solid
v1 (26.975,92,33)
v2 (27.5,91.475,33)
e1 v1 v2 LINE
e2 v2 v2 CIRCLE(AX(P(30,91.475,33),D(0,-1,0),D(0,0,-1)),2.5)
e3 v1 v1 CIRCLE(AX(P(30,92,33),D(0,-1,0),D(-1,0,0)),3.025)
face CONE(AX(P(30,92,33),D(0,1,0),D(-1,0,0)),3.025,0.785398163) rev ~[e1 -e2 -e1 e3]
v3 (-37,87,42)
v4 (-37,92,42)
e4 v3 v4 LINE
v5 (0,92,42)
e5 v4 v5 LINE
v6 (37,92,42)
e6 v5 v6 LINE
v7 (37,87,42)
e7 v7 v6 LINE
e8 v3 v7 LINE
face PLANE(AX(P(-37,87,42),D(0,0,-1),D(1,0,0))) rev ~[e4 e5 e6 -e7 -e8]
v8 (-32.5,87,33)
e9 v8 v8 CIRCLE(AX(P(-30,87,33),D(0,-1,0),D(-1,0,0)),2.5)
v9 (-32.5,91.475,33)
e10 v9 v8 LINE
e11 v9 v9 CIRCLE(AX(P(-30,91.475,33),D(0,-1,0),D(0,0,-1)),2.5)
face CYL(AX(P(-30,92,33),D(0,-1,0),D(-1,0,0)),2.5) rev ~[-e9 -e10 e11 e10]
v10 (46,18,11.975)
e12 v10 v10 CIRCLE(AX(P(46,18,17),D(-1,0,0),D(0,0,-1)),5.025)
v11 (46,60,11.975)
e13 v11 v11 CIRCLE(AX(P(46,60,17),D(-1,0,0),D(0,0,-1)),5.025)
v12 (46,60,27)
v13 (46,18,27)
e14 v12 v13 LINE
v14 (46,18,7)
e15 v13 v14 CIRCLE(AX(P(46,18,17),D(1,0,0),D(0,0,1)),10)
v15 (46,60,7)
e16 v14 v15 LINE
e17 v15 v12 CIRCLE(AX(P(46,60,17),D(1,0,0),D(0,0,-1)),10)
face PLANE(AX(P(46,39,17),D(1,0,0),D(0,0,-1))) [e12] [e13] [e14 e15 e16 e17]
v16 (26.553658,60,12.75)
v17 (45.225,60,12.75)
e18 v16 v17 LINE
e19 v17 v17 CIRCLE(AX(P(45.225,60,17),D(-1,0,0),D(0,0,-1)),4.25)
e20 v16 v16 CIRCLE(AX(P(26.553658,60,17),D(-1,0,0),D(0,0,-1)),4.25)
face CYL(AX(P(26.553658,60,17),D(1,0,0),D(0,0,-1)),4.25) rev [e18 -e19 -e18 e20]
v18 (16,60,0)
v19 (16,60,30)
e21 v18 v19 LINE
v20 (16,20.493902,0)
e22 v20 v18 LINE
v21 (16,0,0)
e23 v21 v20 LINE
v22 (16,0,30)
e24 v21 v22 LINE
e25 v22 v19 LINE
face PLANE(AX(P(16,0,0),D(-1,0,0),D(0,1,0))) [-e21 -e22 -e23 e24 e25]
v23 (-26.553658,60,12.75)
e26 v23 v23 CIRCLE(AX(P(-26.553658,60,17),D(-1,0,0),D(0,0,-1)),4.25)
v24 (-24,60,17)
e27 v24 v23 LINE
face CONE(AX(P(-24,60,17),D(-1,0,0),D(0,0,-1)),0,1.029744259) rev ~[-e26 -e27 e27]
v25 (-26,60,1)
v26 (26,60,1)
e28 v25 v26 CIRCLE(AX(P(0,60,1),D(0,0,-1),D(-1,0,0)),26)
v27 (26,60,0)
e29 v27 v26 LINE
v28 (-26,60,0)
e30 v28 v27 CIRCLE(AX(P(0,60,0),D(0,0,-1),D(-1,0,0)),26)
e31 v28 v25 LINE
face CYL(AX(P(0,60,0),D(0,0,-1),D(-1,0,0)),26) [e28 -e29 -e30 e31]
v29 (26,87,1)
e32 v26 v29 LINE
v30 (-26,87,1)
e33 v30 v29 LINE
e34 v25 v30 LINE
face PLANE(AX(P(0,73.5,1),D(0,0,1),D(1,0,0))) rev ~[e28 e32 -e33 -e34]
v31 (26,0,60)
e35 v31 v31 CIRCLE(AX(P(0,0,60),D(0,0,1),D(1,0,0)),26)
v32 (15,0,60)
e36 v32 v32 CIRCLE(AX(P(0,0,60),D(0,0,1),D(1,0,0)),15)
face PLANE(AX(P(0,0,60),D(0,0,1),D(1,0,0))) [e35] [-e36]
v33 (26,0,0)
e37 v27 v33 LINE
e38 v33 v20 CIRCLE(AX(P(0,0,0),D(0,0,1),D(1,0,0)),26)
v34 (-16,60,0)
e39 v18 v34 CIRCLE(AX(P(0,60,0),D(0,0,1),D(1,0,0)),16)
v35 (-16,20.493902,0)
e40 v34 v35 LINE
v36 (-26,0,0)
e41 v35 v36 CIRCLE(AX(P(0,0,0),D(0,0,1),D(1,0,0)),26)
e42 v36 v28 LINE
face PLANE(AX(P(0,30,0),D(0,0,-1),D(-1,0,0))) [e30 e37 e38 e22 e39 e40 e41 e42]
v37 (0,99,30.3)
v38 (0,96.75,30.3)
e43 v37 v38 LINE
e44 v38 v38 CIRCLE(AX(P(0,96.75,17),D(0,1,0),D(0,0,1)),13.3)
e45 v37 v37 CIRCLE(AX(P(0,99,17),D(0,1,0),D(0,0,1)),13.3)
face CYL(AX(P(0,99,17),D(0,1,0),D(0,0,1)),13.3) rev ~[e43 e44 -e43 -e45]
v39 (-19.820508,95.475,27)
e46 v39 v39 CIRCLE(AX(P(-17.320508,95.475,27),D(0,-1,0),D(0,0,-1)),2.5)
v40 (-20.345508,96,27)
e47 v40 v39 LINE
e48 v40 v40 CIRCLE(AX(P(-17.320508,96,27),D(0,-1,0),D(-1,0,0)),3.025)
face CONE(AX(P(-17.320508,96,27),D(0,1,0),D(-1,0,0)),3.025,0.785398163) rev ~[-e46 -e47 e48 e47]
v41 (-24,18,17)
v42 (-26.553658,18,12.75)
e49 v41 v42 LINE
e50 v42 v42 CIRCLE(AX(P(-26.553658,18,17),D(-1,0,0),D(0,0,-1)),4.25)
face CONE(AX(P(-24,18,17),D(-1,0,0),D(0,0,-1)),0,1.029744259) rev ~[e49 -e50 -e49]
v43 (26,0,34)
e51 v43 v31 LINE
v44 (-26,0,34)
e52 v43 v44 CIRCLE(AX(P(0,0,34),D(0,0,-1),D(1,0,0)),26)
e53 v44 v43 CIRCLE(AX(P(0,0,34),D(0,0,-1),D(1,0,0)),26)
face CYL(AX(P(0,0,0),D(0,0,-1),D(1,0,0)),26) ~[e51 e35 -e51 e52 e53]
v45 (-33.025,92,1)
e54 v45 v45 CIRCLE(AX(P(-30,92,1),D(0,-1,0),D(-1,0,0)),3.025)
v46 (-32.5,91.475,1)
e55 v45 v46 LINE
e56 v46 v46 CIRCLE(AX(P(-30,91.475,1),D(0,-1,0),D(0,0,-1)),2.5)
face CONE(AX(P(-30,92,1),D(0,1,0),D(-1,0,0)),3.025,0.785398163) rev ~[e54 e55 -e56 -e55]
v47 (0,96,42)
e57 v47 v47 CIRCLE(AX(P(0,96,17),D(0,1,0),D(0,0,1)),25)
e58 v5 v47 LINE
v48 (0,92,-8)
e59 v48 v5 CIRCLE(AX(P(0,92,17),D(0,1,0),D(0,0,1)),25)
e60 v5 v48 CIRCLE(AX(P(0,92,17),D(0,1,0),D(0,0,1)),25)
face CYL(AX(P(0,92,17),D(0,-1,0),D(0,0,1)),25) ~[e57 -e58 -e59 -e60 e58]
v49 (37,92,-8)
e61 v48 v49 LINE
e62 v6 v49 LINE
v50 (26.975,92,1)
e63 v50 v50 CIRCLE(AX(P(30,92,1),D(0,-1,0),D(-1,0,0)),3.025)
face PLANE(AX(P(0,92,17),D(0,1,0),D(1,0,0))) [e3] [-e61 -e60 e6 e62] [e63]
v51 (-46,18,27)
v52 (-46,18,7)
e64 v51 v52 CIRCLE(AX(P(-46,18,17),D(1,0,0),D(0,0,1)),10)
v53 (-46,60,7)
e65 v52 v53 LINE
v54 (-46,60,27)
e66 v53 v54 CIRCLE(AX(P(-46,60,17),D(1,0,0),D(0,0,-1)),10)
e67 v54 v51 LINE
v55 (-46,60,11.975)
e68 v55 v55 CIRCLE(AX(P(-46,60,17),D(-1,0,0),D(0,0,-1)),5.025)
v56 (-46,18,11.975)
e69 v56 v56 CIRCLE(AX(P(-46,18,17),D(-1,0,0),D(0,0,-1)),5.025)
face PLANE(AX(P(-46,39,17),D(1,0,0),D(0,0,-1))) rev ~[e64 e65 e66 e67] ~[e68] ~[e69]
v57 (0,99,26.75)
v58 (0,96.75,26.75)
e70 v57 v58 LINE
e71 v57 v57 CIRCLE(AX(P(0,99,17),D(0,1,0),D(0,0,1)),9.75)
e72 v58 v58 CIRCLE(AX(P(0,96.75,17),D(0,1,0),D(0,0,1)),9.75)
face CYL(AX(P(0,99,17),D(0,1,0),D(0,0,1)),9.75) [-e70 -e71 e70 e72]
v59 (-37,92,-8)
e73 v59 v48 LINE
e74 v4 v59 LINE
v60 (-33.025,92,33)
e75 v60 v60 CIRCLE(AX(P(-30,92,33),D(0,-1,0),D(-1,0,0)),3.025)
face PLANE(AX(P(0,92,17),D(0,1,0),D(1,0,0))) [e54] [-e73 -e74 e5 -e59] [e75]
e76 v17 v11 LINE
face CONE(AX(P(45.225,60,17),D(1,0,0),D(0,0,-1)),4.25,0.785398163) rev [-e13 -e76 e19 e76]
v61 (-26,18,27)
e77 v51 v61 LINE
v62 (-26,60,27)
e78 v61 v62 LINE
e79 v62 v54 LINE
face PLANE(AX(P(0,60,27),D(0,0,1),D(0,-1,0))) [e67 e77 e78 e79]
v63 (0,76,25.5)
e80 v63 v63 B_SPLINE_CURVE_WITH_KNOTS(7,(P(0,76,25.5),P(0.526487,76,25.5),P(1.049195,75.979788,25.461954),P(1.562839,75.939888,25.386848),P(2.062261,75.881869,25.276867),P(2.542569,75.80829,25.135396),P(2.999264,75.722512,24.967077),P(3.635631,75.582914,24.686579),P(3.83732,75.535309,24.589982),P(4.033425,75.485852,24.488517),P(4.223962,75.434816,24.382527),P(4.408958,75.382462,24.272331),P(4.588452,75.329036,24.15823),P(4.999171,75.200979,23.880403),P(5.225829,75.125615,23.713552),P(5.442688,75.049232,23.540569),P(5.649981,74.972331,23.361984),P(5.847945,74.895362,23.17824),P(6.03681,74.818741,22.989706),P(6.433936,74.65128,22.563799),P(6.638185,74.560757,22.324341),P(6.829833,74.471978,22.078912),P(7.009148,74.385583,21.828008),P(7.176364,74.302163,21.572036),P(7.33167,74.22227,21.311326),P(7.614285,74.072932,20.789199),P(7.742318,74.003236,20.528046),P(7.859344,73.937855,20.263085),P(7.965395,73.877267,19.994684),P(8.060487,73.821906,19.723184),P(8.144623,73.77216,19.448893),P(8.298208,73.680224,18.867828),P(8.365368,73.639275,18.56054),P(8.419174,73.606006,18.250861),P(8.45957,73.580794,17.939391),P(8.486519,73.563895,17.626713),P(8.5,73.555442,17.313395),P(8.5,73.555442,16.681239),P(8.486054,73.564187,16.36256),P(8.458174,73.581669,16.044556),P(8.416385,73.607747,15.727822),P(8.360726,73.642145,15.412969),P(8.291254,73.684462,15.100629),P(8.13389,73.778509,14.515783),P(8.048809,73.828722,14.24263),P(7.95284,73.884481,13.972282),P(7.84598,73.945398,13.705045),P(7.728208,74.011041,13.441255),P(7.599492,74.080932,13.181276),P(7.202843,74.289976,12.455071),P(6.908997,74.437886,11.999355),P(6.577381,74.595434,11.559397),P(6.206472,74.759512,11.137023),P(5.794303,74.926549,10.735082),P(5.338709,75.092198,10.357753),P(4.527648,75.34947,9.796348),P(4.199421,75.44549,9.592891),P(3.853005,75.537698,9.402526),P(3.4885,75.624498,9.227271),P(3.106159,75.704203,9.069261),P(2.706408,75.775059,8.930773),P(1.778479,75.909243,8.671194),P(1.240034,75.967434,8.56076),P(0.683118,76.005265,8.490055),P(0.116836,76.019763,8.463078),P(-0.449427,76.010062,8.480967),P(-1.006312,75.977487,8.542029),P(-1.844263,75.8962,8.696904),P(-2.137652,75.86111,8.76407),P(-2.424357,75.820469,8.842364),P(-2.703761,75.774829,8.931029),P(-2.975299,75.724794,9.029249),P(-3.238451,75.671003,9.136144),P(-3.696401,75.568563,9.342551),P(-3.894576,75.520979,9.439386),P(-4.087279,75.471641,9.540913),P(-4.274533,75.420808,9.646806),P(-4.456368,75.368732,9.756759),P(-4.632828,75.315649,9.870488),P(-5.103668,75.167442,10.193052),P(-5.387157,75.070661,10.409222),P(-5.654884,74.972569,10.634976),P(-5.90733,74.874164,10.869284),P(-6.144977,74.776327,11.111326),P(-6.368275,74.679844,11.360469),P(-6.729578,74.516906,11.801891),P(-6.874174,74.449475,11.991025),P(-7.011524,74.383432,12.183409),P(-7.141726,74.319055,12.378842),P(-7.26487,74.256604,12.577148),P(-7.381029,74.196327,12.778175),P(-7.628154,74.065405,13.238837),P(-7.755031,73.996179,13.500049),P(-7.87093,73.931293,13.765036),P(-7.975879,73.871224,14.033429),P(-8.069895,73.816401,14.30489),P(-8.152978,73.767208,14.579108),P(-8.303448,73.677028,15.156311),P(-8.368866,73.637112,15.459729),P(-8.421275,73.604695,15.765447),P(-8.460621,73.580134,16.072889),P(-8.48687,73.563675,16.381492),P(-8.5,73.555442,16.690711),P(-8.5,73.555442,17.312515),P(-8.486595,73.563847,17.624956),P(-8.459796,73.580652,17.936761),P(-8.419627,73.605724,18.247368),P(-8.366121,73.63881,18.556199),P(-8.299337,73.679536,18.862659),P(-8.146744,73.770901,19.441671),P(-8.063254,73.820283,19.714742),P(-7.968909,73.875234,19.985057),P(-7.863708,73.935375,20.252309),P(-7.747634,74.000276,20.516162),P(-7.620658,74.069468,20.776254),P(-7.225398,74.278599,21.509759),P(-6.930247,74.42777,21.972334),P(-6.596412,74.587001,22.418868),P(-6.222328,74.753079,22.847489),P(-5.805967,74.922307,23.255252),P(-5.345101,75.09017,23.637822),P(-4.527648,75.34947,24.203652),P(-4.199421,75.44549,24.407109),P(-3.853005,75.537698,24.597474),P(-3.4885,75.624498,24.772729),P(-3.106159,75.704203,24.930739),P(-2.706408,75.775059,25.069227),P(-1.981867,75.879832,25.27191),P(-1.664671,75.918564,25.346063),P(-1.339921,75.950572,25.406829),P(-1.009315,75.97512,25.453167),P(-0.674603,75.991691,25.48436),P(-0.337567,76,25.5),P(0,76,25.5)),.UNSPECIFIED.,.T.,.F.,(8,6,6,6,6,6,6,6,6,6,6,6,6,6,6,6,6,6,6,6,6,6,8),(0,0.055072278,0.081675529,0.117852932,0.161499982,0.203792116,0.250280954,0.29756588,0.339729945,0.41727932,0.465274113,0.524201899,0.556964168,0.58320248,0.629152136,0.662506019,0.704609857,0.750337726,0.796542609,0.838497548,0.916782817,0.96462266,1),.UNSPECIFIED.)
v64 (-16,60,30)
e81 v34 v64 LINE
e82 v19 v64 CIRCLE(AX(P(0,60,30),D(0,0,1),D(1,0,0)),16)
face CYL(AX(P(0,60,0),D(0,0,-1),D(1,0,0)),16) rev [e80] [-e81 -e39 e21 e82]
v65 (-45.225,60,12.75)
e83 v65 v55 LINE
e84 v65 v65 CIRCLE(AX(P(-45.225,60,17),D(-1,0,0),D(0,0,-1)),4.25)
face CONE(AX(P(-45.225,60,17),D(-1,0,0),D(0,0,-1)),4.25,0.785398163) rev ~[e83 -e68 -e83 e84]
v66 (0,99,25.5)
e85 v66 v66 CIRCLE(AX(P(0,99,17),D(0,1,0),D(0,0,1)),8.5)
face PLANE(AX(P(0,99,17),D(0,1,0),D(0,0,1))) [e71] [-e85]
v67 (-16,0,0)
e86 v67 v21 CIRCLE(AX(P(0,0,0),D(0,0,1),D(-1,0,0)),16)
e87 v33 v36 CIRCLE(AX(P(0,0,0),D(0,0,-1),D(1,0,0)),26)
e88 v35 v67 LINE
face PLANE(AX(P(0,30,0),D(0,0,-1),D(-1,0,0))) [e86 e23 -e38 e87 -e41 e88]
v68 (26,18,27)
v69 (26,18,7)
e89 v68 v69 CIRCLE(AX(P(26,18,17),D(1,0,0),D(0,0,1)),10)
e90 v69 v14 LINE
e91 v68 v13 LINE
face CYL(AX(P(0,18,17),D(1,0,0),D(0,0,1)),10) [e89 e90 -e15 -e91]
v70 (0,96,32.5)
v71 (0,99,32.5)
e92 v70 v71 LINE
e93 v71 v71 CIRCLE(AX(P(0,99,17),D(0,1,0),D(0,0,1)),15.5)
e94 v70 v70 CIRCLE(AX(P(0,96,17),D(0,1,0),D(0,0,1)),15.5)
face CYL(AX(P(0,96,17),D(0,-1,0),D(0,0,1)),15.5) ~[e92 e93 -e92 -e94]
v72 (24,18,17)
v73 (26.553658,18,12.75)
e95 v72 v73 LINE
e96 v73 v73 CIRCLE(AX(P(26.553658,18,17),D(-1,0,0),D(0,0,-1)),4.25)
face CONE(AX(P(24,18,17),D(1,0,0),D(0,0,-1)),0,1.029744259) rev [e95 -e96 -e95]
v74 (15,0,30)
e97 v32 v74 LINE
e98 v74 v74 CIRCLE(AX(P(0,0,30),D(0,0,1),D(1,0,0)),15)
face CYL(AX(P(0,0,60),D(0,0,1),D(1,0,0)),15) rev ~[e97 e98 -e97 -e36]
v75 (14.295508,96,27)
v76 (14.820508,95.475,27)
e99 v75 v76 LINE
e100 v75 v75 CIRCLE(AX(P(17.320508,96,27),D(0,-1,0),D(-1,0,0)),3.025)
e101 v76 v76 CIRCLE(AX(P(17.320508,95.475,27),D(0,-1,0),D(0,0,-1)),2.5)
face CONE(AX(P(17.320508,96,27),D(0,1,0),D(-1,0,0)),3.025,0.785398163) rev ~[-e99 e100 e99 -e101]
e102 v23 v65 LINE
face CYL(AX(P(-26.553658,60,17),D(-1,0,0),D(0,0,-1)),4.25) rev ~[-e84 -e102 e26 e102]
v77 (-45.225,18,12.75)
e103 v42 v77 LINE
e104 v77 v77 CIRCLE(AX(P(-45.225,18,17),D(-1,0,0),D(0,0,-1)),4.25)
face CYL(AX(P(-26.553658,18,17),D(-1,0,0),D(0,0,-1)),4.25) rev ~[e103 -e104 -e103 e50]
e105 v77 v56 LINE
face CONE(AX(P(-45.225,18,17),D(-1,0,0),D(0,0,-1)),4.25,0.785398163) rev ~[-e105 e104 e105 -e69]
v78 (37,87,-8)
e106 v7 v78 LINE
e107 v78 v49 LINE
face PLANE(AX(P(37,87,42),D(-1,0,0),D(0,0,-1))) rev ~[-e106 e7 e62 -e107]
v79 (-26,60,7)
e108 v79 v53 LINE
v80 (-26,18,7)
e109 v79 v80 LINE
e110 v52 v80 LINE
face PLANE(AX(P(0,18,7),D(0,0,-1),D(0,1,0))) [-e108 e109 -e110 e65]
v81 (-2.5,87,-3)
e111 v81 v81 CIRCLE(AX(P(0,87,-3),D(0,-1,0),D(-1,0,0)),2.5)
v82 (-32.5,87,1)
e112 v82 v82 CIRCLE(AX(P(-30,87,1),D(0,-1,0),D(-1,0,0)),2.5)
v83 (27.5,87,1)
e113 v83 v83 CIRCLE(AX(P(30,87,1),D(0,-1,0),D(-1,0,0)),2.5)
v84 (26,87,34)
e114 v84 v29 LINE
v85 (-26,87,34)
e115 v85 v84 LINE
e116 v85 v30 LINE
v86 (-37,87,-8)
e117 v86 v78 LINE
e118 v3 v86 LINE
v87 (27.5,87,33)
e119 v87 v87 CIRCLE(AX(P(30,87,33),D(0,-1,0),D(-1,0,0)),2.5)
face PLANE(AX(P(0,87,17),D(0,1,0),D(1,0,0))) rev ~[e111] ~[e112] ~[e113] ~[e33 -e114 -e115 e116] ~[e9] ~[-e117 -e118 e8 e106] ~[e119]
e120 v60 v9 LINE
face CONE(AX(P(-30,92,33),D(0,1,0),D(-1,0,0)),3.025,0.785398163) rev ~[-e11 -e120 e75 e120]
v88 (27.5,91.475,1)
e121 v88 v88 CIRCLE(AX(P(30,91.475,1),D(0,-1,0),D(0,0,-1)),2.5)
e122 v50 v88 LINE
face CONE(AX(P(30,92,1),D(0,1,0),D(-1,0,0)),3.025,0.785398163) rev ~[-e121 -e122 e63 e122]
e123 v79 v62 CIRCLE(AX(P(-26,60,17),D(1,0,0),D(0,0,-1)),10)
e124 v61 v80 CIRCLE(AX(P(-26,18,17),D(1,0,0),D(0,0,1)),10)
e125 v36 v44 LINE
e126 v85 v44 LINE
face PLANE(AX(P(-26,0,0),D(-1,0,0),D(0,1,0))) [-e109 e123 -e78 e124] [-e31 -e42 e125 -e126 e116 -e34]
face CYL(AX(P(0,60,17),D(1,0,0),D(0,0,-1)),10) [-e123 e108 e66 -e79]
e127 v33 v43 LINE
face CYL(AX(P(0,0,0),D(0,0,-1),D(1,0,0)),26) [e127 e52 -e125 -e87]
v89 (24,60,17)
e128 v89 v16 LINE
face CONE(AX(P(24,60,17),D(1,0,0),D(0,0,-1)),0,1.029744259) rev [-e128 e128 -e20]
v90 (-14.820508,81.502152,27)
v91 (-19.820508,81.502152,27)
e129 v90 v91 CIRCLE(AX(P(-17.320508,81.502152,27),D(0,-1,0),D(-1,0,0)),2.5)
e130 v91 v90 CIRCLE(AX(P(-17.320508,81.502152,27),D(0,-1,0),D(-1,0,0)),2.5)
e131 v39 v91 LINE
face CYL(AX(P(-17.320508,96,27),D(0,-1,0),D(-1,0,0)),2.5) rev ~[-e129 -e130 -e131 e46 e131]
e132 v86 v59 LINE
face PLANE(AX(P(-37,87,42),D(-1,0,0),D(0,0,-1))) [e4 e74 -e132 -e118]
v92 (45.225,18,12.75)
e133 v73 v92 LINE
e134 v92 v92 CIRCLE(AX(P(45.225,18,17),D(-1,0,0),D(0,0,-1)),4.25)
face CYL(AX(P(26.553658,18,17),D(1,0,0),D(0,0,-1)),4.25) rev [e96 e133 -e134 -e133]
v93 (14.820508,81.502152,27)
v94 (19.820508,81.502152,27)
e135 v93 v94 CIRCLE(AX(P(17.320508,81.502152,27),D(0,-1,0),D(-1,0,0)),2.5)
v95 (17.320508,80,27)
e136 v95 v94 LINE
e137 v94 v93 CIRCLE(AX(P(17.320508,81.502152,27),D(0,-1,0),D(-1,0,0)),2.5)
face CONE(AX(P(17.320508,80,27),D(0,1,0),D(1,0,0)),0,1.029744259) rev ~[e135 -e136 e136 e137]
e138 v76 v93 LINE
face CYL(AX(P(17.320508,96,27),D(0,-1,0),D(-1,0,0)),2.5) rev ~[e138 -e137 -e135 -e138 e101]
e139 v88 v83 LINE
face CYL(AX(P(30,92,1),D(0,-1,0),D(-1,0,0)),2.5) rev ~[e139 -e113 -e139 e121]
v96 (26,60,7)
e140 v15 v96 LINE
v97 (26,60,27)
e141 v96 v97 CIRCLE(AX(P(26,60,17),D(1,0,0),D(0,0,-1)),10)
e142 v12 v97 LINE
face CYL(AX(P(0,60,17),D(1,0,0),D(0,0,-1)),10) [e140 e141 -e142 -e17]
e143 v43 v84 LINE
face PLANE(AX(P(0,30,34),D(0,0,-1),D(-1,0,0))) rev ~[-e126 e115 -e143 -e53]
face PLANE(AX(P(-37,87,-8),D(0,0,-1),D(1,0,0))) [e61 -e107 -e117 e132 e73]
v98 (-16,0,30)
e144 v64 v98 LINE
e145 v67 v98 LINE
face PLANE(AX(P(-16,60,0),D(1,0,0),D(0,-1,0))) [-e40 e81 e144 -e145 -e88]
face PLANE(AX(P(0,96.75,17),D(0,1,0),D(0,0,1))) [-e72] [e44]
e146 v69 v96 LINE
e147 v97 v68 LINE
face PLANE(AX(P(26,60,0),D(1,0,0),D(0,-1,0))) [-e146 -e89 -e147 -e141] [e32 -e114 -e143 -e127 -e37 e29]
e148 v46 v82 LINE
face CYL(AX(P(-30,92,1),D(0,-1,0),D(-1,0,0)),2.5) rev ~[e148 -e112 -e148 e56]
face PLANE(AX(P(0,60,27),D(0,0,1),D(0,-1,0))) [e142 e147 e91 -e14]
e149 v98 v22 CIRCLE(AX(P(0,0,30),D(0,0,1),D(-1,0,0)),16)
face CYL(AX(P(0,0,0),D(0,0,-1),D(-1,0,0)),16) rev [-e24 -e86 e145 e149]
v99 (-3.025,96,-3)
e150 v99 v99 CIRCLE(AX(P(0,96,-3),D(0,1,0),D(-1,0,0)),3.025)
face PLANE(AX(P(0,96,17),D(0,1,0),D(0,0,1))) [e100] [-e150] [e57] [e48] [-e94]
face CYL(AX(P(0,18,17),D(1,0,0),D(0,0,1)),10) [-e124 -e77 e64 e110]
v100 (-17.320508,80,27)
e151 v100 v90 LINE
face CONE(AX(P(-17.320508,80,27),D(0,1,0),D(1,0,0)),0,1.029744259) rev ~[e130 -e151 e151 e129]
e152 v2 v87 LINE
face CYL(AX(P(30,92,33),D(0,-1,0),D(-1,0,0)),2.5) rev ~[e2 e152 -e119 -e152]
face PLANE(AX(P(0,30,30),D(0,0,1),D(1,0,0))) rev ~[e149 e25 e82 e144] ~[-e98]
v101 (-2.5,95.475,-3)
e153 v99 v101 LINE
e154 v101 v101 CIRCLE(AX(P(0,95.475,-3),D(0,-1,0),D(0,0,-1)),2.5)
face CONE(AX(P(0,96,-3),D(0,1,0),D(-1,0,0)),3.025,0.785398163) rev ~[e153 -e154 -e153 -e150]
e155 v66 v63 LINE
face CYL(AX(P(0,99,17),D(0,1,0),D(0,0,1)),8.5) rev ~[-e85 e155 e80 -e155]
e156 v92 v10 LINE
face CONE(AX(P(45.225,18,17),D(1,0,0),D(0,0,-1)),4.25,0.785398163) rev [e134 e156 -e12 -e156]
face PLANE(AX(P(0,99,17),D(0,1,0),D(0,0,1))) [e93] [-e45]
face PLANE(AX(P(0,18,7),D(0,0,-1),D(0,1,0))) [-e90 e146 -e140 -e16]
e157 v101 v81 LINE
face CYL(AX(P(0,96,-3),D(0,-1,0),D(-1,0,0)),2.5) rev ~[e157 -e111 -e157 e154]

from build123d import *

# Parameters (mm, degrees)
EXTRUDE_1_DEPTH              = 34
EXTRUDE_START                = 87
SKETCH_4_W                   = 74
SKETCH_4_H                   = 50
EXTRUDE_2_DEPTH              = 5
SKETCH_5_R                   = 25
EXTRUDE_3_DEPTH              = 4
SKETCH_6_R                   = 15.5
EXTRUDE_4_DEPTH              = 3
EXTRUDE_5_DEPTH              = 46
SKETCH_8_W                   = 52
SKETCH_8_H                   = 27
EXTRUDE_6_DEPTH              = 33
EXTRUDE_START_2              = -34
SKETCH_9_R                   = 26
EXTRUDE_7_DEPTH              = 60
CUT_EXTRUDE_1_DEPTH          = 30
SKETCH_11_R                  = 15
CUT_EXTRUDE_2_DEPTH          = 129.611819053
CUT_EXTRUDE_3_REACH          = 148.086
CUT_EXTRUDE_3_END_RADIUS     = 16
SKETCH_12_R                  = 8.5
SKETCH_13_R                  = 13.3
SKETCH_13_R_2                = 9.75
CUT_EXTRUDE_4_DEPTH          = 2.25
HOLE_WIZARD_M6_1_D           = 5
HOLE_WIZARD_M6_1_CSINK_D     = 6.05
HOLE_WIZARD_M6_1_CSINK_ANGLE = 90
HOLE_WIZARD_M6_2_D           = 5
HOLE_WIZARD_M6_2_DEPTH       = 14.497848452
HOLE_WIZARD_M6_2_CSINK_D     = 6.05
HOLE_WIZARD_M6_2_CSINK_ANGLE = 90
HOLE_WIZARD_M6_2_TIP         = 1.502151548
HOLE_WIZARD_M6_3_D           = 5
HOLE_WIZARD_M6_3_DEPTH       = 5
HOLE_WIZARD_M6_3_CSINK_D     = 6.05
HOLE_WIZARD_M6_3_CSINK_ANGLE = 90
HOLE_WIZARD_M10_1_AT_2_COUNT = 2
HOLE_WIZARD_M10_1_AT_2_PITCH = 42


with BuildPart() as part:
    # 草图1 → 凸台-拉伸1 (new body)
    with BuildSketch(Plane.XY):
        with BuildLine():
            Line((-26, 0), (-26, 60))
            ThreePointArc((-26, 60), (0, 86), (26, 60))
            Line((26, 60), (26, 0))
            ThreePointArc((26, 0), (0, -26), (-26, 0))
        make_face()
    extrude(amount=EXTRUDE_1_DEPTH)

    # 草图7 → 凸台-拉伸5 (add, symmetric)
    with BuildSketch(Plane(origin=(0, 0, 0), x_dir=(0, 0, -1), z_dir=(1, 0, 0))):
        with BuildLine():
            Line((-27, 60), (-27, 18))
            ThreePointArc((-27, 18), (-17, 8), (-7, 18))
            Line((-7, 18), (-7, 60))
            ThreePointArc((-7, 60), (-17, 70), (-27, 60))
        make_face()
    extrude(amount=EXTRUDE_5_DEPTH, both=True)



with BuildPart() as body_2:
    # 草图4 → 凸台-拉伸2 (new body)
    with BuildSketch(Plane(origin=(0, 0, 0), x_dir=(1, 0, 0), z_dir=(0, 1, 0)).offset(EXTRUDE_START)):
        with Locations((0, -17)):
            Rectangle(SKETCH_4_W, SKETCH_4_H)
    extrude(amount=EXTRUDE_2_DEPTH)

    # 草图5 → 凸台-拉伸3 (add)
    with BuildSketch(Plane(origin=(0, 92, 0), x_dir=(1, 0, 0), z_dir=(0, 1, 0))):
        with Locations(Location((0, -17, 0), (0, 0, 270))):
            Circle(SKETCH_5_R)
    extrude(amount=EXTRUDE_3_DEPTH)

    # 草图6 → 凸台-拉伸4 (add)
    with BuildSketch(Plane(origin=(0, 96, 0), x_dir=(1, 0, 0), z_dir=(0, 1, 0))):
        with Locations(Location((0, -17, 0), (0, 0, 270))):
            Circle(SKETCH_6_R)
    extrude(amount=EXTRUDE_4_DEPTH)


with BuildPart() as part_1:
    add(part.part)

    add(body_2.part)  # 凸台-拉伸6 merges body 2
    # 草图8 → 凸台-拉伸6 (add)
    with BuildSketch(Plane.XY.offset(34)):
        with Locations((0, 73.5)):
            Rectangle(SKETCH_8_W, SKETCH_8_H)
    extrude(amount=-EXTRUDE_6_DEPTH)

    # 草图9 → 凸台-拉伸7 (add)
    with BuildSketch(Plane.XY.offset(34).offset(EXTRUDE_START_2)):
        Circle(SKETCH_9_R)
    extrude(amount=EXTRUDE_7_DEPTH)

    # 草图10 → 切除-拉伸1 (cut)
    with BuildSketch(Plane(origin=(0, 0, 0), x_dir=(-1, 0, 0), z_dir=(0, 0, -1))):
        with BuildLine():
            Line((-16, 0), (-16, 60))
            ThreePointArc((-16, 60), (0, 76), (16, 60))
            Line((16, 60), (16, 0))
            ThreePointArc((16, 0), (0, -16), (-16, 0))
        make_face()
    extrude(amount=-CUT_EXTRUDE_1_DEPTH, mode=Mode.SUBTRACT)

    # 草图11 → 切除-拉伸2 (cut, through all)
    with BuildSketch(Plane.XY.offset(60)):
        Circle(SKETCH_11_R)
    extrude(amount=-CUT_EXTRUDE_2_DEPTH, mode=Mode.SUBTRACT)

    # 切除-拉伸3: up to this cylinder (the profile starts outside it)
    cut_extrude_3_end = Plane(origin=(0, 60, 17), z_dir=(0, 0, -1)) * Cylinder(CUT_EXTRUDE_3_END_RADIUS, 329.172, mode=Mode.PRIVATE)
    # 草图12 → 切除-拉伸3 (cut, up to the surface)
    with BuildSketch(Plane(origin=(0, 99, 0), x_dir=(1, 0, 0), z_dir=(0, 1, 0)), mode=Mode.PRIVATE) as cut_extrude_3_sk1:
        with Locations(Location((0, -17, 0), (0, 0, 270))):
            Circle(SKETCH_12_R)
    cut_extrude_3_tool1 = extrude(cut_extrude_3_sk1.sketch, amount=-CUT_EXTRUDE_3_REACH, mode=Mode.PRIVATE) - cut_extrude_3_end
    add(cut_extrude_3_tool1.solids().sort_by_distance((0, 99, 17))[0], mode=Mode.SUBTRACT)

    # 草图13 → 切除-拉伸4 (cut)
    with BuildSketch(Plane(origin=(0, 99, 0), x_dir=(1, 0, 0), z_dir=(0, 1, 0))):
        with Locations(Location((0, -17, 0), (0, 0, 270))):
            Circle(SKETCH_13_R)
        with Locations(Location((0, -17, 0), (0, 0, 270))):
            Circle(SKETCH_13_R_2, mode=Mode.SUBTRACT)
    extrude(amount=-CUT_EXTRUDE_4_DEPTH, mode=Mode.SUBTRACT)

    # M6 螺纹孔1 (through all)
    with Locations(Plane(origin=(0, 96, 0), x_dir=(1, 0, 0), z_dir=(0, 1, 0))):
        with Locations((0, 3)):
            CounterSinkHole(HOLE_WIZARD_M6_1_D / 2, HOLE_WIZARD_M6_1_CSINK_D / 2, counter_sink_angle=HOLE_WIZARD_M6_1_CSINK_ANGLE)

    # M6 螺纹孔2
    with Locations(Plane(origin=(0, 96, 0), x_dir=(1, 0, 0), z_dir=(0, 1, 0))):
        with Locations((17.320508076, -27), (-17.320508076, -27)):
            CounterSinkHole(HOLE_WIZARD_M6_2_D / 2, HOLE_WIZARD_M6_2_CSINK_D / 2, depth=HOLE_WIZARD_M6_2_DEPTH, counter_sink_angle=HOLE_WIZARD_M6_2_CSINK_ANGLE)
            with Locations((0, 0, -(HOLE_WIZARD_M6_2_DEPTH + HOLE_WIZARD_M6_2_TIP / 2))):  # 118° drill point
                Cone(0, HOLE_WIZARD_M6_2_D / 2, HOLE_WIZARD_M6_2_TIP, mode=Mode.SUBTRACT)

    # M6 螺纹孔3
    with Locations(Plane(origin=(0, 92, 0), x_dir=(1, 0, 0), z_dir=(0, 1, 0))):
        with Locations((30, -1), (0, -17), (-30, -1), (-30, -33), (30, -33)):
            CounterSinkHole(HOLE_WIZARD_M6_3_D / 2, HOLE_WIZARD_M6_3_CSINK_D / 2, depth=HOLE_WIZARD_M6_3_DEPTH, counter_sink_angle=HOLE_WIZARD_M6_3_CSINK_ANGLE)

    # 草图21 → M10 螺纹孔1 (revolve, cut)
    with BuildSketch(Plane(origin=(46, 60, 17), x_dir=(0, 0, -1), z_dir=(0, 1, 0))):
        Polygon((0, 0), (0, 22), (4.25, 19.446342369), (4.25, 0.775), (5.025, 0), align=None)
    hole_wizard_m10_1 = revolve(axis=Axis((52.35, 60, 17), (-1, 0, 0)), mode=Mode.SUBTRACT)

    # M10 螺纹孔1 at 2: M10 螺纹孔1 ×2
    with Locations(*[(0, -i * HOLE_WIZARD_M10_1_AT_2_PITCH, 0) for i in range(1, HOLE_WIZARD_M10_1_AT_2_COUNT)]):
        add(hole_wizard_m10_1, mode=Mode.SUBTRACT)

    # 镜向1: M10 螺纹孔1 across plane
    add(hole_wizard_m10_1.mirror(Plane(origin=(0, 0, 0), x_dir=(0, 0, 1), z_dir=(1, 0, 0))), mode=Mode.SUBTRACT)

    # 镜向1 copy 1 sketch → 镜向1 copy 1 (revolve, cut)
    with BuildSketch(Plane(origin=(-46, 18, 17), x_dir=(0, 0, -1), z_dir=(0, 1, 0))):
        Polygon((0, 0), (0, -22), (4.25, -19.446342369), (4.25, -0.775), (5.025, 0), align=None)
    revolve(axis=Axis((-52.35, 18, 17), (-1, 0, 0)), mode=Mode.SUBTRACT)


solid = part_1.part
